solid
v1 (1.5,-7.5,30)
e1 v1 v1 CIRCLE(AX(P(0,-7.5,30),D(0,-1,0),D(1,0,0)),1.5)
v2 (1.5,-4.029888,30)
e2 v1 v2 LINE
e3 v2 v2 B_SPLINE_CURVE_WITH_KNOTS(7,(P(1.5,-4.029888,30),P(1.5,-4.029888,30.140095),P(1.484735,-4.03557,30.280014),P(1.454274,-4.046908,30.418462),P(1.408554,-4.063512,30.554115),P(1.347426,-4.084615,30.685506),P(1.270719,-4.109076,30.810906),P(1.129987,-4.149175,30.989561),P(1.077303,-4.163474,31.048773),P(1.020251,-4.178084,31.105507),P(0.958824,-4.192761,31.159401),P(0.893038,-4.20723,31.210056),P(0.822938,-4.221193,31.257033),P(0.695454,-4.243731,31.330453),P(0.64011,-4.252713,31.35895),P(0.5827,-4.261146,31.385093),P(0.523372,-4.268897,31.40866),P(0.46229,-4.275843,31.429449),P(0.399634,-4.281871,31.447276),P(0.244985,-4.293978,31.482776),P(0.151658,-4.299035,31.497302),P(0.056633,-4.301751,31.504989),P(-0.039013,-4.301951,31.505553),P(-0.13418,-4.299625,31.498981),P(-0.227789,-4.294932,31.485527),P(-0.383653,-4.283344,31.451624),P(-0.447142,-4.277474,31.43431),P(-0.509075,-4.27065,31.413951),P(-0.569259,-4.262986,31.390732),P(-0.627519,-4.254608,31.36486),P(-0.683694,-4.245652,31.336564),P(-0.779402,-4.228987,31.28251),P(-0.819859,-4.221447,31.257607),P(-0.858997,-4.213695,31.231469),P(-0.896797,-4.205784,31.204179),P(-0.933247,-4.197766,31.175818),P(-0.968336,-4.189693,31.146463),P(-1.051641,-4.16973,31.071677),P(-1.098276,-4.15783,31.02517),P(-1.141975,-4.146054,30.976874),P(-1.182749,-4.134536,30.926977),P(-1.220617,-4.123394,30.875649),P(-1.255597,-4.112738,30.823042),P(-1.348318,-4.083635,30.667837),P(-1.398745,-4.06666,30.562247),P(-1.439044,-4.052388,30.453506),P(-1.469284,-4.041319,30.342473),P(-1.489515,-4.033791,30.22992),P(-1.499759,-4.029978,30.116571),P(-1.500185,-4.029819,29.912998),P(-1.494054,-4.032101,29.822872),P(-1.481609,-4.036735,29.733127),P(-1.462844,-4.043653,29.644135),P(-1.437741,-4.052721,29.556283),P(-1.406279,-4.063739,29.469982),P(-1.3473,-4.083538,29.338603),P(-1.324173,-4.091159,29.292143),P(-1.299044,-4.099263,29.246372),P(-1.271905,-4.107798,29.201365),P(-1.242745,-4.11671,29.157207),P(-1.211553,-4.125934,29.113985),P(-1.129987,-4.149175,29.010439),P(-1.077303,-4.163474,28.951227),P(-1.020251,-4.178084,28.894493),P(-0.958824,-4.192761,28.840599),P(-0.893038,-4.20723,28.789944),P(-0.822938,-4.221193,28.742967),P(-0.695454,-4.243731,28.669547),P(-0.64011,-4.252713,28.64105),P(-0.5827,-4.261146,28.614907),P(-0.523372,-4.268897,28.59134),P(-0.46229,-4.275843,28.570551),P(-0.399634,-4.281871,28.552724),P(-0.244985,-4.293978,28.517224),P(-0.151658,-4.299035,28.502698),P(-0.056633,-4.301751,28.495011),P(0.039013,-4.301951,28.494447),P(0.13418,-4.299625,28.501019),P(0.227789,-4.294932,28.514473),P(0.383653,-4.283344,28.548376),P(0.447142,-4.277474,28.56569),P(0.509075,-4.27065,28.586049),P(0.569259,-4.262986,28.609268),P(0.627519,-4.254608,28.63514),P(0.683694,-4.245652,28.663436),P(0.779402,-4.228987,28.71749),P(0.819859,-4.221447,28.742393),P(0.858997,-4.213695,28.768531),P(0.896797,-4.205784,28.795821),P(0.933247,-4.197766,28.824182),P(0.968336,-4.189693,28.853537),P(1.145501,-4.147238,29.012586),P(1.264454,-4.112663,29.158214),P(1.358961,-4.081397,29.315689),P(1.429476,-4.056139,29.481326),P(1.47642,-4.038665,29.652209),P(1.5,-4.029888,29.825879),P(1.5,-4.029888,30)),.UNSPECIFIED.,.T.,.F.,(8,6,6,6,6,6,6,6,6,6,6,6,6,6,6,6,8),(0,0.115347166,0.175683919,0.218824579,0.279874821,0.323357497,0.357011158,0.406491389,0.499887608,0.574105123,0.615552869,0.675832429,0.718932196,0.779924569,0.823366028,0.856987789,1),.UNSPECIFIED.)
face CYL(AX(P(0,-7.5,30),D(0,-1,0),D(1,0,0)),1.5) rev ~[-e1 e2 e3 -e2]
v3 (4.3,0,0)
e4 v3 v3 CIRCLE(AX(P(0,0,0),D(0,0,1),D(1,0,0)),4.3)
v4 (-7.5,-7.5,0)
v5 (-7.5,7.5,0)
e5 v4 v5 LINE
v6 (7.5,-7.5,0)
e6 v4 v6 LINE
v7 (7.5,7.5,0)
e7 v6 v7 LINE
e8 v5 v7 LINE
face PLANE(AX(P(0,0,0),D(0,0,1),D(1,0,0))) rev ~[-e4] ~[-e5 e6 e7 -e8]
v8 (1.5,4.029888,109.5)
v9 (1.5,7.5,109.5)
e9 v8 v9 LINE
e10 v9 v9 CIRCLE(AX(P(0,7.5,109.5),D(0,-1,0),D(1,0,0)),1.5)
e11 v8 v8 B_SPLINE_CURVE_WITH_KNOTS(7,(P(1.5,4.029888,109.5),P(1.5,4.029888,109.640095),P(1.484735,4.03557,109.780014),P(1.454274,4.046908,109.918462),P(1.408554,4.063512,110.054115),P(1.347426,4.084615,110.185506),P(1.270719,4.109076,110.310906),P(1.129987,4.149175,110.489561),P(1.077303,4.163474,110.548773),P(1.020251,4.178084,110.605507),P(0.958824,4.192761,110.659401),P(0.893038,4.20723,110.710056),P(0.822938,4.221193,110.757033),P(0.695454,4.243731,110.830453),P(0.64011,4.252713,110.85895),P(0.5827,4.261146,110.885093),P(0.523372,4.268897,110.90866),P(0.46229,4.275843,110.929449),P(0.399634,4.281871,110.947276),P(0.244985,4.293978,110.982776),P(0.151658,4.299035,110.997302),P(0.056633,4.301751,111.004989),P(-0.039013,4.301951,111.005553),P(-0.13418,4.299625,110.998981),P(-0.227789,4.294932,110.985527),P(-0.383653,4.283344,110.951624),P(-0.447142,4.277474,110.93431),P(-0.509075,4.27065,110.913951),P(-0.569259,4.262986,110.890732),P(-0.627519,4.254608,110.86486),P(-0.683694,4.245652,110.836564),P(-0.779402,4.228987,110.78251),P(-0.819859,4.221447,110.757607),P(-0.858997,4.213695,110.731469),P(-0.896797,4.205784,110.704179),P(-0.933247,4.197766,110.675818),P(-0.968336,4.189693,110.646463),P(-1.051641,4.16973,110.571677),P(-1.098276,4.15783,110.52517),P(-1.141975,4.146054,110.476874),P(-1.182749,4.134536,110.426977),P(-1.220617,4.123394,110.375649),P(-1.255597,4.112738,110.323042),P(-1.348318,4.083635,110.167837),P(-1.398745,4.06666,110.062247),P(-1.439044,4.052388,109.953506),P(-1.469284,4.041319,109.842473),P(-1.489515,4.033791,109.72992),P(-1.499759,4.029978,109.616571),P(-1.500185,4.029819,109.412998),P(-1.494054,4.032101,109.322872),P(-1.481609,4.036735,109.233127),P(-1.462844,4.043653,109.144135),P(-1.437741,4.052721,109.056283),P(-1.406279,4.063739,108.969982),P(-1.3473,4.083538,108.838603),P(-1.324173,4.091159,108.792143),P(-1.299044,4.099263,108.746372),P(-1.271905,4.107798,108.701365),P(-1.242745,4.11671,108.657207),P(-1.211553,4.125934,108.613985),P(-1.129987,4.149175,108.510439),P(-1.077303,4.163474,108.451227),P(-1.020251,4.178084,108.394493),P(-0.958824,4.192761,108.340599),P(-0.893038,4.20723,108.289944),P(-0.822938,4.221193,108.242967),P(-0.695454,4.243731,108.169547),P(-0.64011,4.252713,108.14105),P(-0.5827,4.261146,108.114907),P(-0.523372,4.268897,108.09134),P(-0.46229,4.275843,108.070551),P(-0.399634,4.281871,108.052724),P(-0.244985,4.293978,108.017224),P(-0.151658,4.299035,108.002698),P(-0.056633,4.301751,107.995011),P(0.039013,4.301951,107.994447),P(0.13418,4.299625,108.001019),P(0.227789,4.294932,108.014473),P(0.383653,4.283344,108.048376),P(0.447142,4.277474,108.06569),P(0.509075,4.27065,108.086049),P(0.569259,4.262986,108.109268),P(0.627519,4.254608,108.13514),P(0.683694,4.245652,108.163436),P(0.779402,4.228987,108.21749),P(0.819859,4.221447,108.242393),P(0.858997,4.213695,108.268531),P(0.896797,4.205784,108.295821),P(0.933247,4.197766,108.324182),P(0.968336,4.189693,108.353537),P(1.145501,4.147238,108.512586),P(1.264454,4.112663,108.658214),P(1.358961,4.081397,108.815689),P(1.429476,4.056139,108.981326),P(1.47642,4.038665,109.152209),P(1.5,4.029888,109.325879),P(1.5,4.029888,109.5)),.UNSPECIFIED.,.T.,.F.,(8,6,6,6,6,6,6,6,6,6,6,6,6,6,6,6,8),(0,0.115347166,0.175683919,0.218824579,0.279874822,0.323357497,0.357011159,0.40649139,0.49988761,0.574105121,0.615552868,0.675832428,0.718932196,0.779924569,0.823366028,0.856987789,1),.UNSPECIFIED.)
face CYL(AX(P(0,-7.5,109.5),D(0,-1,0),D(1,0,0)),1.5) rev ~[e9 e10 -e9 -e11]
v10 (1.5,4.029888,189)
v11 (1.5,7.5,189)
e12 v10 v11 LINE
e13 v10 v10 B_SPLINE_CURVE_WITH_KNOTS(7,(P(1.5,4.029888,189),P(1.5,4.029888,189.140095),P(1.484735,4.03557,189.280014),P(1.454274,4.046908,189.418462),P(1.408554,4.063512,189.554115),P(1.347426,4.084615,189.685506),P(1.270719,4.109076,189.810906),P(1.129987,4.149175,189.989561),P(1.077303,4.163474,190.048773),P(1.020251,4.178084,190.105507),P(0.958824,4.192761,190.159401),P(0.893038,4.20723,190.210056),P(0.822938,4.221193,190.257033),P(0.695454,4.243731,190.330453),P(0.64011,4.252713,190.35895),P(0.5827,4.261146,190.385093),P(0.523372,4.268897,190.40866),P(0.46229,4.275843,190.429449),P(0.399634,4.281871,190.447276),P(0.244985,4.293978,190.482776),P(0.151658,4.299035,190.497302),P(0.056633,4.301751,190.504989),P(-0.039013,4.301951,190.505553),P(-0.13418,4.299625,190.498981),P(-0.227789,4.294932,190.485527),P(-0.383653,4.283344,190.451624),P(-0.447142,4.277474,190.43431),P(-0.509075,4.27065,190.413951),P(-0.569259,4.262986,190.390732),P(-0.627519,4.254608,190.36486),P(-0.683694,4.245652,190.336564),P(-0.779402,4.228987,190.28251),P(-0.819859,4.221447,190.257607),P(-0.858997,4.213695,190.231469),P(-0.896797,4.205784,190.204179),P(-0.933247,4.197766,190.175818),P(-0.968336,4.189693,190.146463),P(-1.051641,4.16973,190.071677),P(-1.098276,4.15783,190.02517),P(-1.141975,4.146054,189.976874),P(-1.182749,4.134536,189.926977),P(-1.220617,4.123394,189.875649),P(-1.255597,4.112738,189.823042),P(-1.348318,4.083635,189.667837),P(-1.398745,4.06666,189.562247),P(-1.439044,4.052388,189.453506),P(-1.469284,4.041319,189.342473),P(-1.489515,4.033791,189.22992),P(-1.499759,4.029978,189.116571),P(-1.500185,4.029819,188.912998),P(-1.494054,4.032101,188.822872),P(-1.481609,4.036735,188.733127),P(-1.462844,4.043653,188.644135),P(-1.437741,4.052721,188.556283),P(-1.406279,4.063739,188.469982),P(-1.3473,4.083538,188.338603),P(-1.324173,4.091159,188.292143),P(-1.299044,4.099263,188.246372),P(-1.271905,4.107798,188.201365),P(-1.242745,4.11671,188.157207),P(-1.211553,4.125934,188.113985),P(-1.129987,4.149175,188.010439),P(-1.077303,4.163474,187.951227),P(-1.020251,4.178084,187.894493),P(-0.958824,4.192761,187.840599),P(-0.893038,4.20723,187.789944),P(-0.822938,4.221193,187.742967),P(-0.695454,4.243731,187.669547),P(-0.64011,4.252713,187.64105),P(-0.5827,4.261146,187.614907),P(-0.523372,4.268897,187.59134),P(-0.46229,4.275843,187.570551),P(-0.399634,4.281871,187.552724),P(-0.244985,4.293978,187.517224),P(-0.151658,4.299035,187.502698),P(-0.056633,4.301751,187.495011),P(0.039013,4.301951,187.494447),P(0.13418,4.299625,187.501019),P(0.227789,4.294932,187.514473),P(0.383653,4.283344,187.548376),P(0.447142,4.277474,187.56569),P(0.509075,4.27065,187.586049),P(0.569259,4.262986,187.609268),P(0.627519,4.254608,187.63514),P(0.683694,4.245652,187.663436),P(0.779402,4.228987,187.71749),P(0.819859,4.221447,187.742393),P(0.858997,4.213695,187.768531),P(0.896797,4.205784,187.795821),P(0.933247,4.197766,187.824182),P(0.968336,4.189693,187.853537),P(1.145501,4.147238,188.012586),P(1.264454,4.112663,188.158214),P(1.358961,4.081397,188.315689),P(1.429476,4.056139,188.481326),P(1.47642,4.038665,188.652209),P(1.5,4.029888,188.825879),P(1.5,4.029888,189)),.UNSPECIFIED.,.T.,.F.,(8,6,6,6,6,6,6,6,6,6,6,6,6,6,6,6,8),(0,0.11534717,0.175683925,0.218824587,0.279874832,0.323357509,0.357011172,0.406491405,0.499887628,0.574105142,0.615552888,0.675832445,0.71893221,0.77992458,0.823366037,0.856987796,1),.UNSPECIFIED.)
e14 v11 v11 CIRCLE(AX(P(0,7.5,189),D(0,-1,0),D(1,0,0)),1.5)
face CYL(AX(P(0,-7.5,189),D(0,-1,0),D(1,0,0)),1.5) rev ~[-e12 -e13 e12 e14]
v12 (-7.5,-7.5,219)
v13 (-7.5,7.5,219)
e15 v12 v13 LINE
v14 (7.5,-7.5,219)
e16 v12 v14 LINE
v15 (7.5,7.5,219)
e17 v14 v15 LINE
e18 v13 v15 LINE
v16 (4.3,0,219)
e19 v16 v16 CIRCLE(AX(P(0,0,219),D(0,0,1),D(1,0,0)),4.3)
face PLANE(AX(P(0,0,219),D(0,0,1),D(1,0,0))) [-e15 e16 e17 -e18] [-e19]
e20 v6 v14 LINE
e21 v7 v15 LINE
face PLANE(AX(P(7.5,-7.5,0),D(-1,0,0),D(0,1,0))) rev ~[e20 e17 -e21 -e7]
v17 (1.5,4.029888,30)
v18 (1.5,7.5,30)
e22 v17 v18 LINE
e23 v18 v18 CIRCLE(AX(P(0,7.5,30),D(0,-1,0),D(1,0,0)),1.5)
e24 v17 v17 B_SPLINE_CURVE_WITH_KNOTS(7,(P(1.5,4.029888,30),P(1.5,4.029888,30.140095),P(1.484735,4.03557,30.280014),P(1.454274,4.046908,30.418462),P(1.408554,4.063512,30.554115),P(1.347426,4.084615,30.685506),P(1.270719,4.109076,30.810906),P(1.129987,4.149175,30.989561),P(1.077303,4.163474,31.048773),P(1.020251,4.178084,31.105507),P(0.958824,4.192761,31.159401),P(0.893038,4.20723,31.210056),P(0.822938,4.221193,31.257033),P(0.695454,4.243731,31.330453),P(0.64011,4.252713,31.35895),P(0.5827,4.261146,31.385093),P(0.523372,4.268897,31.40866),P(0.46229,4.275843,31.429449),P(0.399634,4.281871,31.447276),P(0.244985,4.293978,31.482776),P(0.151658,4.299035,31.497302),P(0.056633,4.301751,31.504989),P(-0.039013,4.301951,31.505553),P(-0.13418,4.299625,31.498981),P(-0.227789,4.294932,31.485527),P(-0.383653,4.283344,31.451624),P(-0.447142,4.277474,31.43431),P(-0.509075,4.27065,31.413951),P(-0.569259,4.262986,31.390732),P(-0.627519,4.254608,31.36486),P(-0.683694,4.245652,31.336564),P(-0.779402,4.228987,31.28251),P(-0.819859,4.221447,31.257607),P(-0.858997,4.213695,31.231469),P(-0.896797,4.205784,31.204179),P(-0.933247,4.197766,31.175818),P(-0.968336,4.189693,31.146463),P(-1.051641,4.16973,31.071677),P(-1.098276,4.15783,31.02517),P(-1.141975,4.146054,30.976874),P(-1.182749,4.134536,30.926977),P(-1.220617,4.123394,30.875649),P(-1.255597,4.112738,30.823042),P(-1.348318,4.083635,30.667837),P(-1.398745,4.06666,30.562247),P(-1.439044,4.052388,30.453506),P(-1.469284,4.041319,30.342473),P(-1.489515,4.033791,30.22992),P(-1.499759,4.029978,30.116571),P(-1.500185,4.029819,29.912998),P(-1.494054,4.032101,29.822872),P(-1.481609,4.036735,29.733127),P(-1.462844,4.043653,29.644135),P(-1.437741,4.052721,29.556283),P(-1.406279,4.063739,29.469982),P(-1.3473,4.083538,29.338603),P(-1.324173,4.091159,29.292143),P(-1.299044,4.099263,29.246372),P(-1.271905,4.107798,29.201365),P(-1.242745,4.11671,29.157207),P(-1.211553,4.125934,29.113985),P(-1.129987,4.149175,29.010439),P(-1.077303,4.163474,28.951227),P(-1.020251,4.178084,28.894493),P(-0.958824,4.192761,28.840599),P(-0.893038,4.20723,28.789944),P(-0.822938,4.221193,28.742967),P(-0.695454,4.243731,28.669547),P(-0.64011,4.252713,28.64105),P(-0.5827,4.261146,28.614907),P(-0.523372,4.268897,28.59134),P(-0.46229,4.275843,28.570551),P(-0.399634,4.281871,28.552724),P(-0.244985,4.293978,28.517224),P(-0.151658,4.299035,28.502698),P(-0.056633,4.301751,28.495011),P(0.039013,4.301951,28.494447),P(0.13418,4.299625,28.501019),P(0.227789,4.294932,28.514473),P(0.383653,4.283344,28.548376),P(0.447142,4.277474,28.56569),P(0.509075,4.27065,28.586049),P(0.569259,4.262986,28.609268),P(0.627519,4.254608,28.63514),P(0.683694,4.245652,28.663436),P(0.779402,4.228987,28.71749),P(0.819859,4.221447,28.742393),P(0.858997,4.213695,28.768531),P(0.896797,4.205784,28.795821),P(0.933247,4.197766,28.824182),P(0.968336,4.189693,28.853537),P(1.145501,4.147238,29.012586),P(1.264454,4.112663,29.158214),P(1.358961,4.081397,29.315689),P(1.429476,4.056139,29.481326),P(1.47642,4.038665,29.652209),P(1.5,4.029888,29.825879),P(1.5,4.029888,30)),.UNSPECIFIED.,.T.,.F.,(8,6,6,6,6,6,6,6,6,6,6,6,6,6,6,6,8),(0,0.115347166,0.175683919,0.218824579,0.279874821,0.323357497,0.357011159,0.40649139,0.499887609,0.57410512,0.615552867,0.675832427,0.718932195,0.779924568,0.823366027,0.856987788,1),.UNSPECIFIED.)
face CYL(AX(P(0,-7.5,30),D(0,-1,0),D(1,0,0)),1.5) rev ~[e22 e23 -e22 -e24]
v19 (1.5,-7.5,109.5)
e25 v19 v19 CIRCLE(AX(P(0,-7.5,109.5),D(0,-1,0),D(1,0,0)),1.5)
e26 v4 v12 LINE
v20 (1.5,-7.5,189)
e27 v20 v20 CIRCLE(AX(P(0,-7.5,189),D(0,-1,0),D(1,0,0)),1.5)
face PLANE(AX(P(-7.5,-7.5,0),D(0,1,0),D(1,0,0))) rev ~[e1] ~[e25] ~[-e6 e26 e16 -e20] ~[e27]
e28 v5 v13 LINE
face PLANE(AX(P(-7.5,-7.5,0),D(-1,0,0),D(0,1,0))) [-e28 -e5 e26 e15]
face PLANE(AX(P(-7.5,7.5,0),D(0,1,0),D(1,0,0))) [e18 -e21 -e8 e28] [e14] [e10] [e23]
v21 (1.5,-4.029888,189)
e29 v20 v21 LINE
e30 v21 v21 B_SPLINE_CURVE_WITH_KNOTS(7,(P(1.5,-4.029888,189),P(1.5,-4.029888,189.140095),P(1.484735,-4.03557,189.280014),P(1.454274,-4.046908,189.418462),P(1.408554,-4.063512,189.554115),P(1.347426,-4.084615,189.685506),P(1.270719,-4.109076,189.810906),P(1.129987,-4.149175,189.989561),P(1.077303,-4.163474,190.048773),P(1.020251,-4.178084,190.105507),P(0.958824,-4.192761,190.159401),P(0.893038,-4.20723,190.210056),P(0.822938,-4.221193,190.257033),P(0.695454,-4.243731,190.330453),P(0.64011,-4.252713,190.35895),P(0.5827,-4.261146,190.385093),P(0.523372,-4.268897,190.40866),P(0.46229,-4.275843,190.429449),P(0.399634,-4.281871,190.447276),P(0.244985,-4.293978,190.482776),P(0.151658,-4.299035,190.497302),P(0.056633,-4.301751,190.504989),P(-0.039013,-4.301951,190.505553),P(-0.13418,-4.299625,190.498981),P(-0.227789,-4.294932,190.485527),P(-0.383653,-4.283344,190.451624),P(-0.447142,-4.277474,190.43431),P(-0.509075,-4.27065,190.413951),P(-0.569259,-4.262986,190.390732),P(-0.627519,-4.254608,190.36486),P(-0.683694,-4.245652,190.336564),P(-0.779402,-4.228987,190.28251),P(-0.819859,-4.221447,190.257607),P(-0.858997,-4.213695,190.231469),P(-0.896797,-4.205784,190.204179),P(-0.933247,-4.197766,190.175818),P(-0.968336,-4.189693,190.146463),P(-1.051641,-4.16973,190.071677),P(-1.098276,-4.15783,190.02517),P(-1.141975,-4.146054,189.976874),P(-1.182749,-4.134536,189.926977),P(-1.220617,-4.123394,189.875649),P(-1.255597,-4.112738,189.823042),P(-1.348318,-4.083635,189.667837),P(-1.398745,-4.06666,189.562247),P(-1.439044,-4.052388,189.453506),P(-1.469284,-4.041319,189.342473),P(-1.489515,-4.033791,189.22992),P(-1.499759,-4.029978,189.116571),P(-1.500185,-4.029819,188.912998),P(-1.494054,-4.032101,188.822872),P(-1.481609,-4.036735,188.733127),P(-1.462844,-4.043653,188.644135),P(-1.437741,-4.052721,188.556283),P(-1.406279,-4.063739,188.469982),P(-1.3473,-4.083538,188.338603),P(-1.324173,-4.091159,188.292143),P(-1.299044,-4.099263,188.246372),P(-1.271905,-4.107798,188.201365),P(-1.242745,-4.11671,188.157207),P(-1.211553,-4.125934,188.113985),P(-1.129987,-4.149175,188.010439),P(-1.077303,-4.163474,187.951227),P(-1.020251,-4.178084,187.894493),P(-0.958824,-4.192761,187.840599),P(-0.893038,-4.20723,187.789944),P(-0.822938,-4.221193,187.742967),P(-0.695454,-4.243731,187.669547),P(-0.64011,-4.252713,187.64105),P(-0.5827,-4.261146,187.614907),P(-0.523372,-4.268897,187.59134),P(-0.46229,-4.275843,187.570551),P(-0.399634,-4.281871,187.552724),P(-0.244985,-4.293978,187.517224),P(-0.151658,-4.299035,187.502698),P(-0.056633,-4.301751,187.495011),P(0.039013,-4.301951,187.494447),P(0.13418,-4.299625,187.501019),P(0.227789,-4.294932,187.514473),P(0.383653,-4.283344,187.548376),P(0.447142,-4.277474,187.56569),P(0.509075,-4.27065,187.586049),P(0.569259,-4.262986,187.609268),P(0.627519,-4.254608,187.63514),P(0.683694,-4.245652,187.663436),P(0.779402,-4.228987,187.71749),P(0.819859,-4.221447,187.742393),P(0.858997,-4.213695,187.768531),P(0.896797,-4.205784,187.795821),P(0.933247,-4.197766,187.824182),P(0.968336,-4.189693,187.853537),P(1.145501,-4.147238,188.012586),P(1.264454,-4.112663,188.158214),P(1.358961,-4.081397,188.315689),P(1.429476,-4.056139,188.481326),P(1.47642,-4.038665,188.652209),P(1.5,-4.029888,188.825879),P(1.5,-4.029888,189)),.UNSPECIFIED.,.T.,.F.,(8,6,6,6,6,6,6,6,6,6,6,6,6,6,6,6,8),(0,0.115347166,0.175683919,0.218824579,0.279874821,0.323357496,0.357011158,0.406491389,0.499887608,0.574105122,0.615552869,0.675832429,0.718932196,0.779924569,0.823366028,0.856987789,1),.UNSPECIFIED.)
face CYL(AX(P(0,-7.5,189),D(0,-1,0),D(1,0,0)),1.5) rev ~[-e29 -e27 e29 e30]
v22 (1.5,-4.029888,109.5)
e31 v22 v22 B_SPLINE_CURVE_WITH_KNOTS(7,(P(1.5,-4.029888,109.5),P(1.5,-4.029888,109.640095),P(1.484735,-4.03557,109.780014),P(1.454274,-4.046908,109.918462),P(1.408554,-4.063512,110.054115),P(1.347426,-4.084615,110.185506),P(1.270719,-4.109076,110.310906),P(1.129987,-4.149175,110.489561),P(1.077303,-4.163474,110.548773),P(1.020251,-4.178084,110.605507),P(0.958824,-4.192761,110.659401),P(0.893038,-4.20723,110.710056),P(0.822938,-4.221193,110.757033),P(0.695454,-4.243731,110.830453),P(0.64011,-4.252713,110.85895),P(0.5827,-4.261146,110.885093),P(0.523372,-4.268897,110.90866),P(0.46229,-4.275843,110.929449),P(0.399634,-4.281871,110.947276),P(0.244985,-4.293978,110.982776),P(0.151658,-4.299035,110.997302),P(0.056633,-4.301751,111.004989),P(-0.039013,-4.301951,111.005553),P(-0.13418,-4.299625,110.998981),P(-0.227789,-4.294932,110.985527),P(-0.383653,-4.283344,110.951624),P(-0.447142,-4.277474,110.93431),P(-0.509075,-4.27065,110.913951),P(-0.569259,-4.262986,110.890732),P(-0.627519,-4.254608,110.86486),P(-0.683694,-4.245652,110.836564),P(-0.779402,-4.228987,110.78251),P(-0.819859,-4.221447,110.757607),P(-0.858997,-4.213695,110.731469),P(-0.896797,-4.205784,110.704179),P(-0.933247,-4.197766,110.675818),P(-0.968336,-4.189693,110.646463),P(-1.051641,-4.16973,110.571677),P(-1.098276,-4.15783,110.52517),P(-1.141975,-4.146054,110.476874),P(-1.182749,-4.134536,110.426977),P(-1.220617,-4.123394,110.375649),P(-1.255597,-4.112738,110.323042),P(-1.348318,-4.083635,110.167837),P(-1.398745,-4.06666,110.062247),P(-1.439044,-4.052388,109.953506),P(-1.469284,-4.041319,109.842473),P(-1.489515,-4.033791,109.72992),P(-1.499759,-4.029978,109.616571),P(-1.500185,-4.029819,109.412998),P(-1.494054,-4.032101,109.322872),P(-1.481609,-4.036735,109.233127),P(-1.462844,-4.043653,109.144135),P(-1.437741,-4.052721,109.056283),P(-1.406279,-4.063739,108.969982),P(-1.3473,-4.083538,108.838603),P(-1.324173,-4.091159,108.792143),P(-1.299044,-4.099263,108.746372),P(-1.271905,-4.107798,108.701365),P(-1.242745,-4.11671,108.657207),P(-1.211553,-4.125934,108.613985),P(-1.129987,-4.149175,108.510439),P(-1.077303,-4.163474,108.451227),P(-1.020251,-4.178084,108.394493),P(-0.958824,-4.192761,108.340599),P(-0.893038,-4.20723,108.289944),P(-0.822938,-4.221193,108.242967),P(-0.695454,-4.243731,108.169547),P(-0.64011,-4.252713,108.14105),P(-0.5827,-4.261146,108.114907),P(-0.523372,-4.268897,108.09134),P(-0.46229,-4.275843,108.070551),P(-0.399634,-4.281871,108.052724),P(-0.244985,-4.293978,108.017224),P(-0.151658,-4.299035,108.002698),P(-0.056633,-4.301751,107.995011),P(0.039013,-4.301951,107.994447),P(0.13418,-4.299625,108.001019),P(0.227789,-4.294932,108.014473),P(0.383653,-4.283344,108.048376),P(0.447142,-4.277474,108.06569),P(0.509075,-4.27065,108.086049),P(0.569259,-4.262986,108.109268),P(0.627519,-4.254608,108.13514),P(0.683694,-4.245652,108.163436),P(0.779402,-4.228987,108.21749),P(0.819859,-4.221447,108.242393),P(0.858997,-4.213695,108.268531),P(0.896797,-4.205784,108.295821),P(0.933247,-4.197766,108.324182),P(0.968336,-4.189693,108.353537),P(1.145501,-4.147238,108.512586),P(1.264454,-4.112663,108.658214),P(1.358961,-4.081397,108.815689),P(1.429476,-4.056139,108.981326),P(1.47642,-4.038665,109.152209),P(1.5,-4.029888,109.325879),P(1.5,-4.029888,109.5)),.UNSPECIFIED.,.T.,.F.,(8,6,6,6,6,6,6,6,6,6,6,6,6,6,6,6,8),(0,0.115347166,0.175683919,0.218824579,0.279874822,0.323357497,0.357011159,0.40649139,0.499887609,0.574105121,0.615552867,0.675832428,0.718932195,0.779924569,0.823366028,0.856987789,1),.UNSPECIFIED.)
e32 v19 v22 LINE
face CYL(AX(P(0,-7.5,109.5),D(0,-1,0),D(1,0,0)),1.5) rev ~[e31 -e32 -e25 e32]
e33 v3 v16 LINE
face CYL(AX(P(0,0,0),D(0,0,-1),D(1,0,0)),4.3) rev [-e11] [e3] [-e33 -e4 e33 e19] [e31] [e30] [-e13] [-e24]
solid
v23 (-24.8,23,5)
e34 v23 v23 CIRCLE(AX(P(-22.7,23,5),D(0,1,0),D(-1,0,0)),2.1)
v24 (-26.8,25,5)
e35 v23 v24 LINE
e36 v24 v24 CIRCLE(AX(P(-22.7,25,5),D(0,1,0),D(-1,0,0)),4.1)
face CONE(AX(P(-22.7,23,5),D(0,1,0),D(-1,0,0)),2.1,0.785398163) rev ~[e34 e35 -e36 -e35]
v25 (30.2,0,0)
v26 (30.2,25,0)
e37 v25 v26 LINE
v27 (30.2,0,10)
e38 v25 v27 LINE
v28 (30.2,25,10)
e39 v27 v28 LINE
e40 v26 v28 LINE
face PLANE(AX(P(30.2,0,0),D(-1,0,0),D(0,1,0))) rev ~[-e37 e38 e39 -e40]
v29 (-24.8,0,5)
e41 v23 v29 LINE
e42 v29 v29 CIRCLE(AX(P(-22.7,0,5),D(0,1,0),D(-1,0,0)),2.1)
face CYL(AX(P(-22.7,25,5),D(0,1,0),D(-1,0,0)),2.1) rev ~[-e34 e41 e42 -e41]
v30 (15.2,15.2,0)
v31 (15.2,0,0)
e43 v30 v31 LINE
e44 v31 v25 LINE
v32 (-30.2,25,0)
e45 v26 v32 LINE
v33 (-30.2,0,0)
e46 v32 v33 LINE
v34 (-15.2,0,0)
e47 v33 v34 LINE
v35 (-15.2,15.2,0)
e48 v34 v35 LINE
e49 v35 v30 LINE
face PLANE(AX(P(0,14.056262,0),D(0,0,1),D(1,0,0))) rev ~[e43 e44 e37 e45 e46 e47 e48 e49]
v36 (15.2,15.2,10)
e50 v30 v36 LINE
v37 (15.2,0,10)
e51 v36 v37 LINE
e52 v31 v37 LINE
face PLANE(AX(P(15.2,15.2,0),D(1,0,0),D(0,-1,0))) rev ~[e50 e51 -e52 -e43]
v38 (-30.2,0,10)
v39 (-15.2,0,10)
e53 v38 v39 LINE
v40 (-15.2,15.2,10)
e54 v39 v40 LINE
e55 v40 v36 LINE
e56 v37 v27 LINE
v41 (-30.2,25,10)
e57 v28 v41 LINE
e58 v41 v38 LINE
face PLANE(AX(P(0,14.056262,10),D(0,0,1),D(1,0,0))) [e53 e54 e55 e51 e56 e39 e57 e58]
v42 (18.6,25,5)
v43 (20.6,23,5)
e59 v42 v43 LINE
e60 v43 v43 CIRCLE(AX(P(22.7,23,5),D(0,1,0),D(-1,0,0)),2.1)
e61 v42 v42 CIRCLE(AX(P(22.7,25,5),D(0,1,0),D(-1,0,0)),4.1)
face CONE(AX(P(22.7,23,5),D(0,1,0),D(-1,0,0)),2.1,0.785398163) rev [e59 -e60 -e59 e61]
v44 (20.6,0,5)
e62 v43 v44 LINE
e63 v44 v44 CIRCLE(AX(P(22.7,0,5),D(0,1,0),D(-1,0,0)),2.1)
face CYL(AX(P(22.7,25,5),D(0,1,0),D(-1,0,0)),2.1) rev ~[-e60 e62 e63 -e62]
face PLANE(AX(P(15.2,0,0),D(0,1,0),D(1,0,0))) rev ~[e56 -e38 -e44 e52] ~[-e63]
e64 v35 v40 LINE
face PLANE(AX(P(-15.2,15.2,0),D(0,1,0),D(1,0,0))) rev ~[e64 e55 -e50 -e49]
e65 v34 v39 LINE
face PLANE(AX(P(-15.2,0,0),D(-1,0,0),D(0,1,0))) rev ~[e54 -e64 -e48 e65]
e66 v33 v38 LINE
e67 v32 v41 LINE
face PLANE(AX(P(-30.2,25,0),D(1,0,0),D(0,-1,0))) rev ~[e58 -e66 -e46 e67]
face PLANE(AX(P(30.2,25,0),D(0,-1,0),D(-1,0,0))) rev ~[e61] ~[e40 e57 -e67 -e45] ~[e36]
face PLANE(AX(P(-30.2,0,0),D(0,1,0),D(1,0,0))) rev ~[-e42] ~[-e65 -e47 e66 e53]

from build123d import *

# Parameters (mm, degrees)
SKETCH_W        = 15
SKETCH_H        = 15
SKETCH_R        = 4.3
PAD_DEPTH       = 219
SKETCH001_R     = 1.5
POCKET_DEPTH    = 15.001
PAD001_DEPTH    = 10
SKETCH003_R     = 2.1
POCKET001_DEPTH = 25.001
CHAMFER_SIZE    = 2


with BuildPart() as body:
    # Sketch → Pad (new body)
    with BuildSketch(Plane.XY):
        Rectangle(SKETCH_W, SKETCH_H)
        Circle(SKETCH_R, mode=Mode.SUBTRACT)
    extrude(amount=PAD_DEPTH)

    # Sketch001 (on Face1 of Pad) → Pocket (cut, through all)
    with BuildSketch(Plane.XZ.offset(7.5)):
        with Locations((0, 109.5)):
            Circle(SKETCH001_R)
        with Locations((0, 30)):
            Circle(SKETCH001_R)
        with Locations((0, 189)):
            Circle(SKETCH001_R)
    extrude(amount=-POCKET_DEPTH, mode=Mode.SUBTRACT)


with BuildPart() as body001:
    # Sketch002 → Pad001 (new body)
    with BuildSketch(Plane.XY):
        Polygon((-30.2, 0), (-15.2, 0), (-15.2, 15.2), (0, 15.2), (15.2, 15.2), (15.2, 0), (30.2, 0), (30.2, 25), (-30.2, 25), align=None)
    extrude(amount=PAD001_DEPTH)

    # Sketch003 (on Face7 of Pad001) → Pocket001 (cut, through all)
    with BuildSketch(Plane(origin=(0, 25, 0), x_dir=(-1, 0, 0), z_dir=(0, 1, 0))):
        with Locations((-22.7, 5)):
            Circle(SKETCH003_R)
        with Locations((22.7, 5)):
            Circle(SKETCH003_R)
    extrude(amount=-POCKET001_DEPTH, mode=Mode.SUBTRACT)

    # Chamfer
    chamfer_edges = [body001.edges().sort_by_distance(p)[0] for p in [
        (24.8, 25, 5),
        (-20.6, 25, 5),
    ]]
    chamfer(chamfer_edges, length=CHAMFER_SIZE)


solid = Compound([body.part, body001.part])
